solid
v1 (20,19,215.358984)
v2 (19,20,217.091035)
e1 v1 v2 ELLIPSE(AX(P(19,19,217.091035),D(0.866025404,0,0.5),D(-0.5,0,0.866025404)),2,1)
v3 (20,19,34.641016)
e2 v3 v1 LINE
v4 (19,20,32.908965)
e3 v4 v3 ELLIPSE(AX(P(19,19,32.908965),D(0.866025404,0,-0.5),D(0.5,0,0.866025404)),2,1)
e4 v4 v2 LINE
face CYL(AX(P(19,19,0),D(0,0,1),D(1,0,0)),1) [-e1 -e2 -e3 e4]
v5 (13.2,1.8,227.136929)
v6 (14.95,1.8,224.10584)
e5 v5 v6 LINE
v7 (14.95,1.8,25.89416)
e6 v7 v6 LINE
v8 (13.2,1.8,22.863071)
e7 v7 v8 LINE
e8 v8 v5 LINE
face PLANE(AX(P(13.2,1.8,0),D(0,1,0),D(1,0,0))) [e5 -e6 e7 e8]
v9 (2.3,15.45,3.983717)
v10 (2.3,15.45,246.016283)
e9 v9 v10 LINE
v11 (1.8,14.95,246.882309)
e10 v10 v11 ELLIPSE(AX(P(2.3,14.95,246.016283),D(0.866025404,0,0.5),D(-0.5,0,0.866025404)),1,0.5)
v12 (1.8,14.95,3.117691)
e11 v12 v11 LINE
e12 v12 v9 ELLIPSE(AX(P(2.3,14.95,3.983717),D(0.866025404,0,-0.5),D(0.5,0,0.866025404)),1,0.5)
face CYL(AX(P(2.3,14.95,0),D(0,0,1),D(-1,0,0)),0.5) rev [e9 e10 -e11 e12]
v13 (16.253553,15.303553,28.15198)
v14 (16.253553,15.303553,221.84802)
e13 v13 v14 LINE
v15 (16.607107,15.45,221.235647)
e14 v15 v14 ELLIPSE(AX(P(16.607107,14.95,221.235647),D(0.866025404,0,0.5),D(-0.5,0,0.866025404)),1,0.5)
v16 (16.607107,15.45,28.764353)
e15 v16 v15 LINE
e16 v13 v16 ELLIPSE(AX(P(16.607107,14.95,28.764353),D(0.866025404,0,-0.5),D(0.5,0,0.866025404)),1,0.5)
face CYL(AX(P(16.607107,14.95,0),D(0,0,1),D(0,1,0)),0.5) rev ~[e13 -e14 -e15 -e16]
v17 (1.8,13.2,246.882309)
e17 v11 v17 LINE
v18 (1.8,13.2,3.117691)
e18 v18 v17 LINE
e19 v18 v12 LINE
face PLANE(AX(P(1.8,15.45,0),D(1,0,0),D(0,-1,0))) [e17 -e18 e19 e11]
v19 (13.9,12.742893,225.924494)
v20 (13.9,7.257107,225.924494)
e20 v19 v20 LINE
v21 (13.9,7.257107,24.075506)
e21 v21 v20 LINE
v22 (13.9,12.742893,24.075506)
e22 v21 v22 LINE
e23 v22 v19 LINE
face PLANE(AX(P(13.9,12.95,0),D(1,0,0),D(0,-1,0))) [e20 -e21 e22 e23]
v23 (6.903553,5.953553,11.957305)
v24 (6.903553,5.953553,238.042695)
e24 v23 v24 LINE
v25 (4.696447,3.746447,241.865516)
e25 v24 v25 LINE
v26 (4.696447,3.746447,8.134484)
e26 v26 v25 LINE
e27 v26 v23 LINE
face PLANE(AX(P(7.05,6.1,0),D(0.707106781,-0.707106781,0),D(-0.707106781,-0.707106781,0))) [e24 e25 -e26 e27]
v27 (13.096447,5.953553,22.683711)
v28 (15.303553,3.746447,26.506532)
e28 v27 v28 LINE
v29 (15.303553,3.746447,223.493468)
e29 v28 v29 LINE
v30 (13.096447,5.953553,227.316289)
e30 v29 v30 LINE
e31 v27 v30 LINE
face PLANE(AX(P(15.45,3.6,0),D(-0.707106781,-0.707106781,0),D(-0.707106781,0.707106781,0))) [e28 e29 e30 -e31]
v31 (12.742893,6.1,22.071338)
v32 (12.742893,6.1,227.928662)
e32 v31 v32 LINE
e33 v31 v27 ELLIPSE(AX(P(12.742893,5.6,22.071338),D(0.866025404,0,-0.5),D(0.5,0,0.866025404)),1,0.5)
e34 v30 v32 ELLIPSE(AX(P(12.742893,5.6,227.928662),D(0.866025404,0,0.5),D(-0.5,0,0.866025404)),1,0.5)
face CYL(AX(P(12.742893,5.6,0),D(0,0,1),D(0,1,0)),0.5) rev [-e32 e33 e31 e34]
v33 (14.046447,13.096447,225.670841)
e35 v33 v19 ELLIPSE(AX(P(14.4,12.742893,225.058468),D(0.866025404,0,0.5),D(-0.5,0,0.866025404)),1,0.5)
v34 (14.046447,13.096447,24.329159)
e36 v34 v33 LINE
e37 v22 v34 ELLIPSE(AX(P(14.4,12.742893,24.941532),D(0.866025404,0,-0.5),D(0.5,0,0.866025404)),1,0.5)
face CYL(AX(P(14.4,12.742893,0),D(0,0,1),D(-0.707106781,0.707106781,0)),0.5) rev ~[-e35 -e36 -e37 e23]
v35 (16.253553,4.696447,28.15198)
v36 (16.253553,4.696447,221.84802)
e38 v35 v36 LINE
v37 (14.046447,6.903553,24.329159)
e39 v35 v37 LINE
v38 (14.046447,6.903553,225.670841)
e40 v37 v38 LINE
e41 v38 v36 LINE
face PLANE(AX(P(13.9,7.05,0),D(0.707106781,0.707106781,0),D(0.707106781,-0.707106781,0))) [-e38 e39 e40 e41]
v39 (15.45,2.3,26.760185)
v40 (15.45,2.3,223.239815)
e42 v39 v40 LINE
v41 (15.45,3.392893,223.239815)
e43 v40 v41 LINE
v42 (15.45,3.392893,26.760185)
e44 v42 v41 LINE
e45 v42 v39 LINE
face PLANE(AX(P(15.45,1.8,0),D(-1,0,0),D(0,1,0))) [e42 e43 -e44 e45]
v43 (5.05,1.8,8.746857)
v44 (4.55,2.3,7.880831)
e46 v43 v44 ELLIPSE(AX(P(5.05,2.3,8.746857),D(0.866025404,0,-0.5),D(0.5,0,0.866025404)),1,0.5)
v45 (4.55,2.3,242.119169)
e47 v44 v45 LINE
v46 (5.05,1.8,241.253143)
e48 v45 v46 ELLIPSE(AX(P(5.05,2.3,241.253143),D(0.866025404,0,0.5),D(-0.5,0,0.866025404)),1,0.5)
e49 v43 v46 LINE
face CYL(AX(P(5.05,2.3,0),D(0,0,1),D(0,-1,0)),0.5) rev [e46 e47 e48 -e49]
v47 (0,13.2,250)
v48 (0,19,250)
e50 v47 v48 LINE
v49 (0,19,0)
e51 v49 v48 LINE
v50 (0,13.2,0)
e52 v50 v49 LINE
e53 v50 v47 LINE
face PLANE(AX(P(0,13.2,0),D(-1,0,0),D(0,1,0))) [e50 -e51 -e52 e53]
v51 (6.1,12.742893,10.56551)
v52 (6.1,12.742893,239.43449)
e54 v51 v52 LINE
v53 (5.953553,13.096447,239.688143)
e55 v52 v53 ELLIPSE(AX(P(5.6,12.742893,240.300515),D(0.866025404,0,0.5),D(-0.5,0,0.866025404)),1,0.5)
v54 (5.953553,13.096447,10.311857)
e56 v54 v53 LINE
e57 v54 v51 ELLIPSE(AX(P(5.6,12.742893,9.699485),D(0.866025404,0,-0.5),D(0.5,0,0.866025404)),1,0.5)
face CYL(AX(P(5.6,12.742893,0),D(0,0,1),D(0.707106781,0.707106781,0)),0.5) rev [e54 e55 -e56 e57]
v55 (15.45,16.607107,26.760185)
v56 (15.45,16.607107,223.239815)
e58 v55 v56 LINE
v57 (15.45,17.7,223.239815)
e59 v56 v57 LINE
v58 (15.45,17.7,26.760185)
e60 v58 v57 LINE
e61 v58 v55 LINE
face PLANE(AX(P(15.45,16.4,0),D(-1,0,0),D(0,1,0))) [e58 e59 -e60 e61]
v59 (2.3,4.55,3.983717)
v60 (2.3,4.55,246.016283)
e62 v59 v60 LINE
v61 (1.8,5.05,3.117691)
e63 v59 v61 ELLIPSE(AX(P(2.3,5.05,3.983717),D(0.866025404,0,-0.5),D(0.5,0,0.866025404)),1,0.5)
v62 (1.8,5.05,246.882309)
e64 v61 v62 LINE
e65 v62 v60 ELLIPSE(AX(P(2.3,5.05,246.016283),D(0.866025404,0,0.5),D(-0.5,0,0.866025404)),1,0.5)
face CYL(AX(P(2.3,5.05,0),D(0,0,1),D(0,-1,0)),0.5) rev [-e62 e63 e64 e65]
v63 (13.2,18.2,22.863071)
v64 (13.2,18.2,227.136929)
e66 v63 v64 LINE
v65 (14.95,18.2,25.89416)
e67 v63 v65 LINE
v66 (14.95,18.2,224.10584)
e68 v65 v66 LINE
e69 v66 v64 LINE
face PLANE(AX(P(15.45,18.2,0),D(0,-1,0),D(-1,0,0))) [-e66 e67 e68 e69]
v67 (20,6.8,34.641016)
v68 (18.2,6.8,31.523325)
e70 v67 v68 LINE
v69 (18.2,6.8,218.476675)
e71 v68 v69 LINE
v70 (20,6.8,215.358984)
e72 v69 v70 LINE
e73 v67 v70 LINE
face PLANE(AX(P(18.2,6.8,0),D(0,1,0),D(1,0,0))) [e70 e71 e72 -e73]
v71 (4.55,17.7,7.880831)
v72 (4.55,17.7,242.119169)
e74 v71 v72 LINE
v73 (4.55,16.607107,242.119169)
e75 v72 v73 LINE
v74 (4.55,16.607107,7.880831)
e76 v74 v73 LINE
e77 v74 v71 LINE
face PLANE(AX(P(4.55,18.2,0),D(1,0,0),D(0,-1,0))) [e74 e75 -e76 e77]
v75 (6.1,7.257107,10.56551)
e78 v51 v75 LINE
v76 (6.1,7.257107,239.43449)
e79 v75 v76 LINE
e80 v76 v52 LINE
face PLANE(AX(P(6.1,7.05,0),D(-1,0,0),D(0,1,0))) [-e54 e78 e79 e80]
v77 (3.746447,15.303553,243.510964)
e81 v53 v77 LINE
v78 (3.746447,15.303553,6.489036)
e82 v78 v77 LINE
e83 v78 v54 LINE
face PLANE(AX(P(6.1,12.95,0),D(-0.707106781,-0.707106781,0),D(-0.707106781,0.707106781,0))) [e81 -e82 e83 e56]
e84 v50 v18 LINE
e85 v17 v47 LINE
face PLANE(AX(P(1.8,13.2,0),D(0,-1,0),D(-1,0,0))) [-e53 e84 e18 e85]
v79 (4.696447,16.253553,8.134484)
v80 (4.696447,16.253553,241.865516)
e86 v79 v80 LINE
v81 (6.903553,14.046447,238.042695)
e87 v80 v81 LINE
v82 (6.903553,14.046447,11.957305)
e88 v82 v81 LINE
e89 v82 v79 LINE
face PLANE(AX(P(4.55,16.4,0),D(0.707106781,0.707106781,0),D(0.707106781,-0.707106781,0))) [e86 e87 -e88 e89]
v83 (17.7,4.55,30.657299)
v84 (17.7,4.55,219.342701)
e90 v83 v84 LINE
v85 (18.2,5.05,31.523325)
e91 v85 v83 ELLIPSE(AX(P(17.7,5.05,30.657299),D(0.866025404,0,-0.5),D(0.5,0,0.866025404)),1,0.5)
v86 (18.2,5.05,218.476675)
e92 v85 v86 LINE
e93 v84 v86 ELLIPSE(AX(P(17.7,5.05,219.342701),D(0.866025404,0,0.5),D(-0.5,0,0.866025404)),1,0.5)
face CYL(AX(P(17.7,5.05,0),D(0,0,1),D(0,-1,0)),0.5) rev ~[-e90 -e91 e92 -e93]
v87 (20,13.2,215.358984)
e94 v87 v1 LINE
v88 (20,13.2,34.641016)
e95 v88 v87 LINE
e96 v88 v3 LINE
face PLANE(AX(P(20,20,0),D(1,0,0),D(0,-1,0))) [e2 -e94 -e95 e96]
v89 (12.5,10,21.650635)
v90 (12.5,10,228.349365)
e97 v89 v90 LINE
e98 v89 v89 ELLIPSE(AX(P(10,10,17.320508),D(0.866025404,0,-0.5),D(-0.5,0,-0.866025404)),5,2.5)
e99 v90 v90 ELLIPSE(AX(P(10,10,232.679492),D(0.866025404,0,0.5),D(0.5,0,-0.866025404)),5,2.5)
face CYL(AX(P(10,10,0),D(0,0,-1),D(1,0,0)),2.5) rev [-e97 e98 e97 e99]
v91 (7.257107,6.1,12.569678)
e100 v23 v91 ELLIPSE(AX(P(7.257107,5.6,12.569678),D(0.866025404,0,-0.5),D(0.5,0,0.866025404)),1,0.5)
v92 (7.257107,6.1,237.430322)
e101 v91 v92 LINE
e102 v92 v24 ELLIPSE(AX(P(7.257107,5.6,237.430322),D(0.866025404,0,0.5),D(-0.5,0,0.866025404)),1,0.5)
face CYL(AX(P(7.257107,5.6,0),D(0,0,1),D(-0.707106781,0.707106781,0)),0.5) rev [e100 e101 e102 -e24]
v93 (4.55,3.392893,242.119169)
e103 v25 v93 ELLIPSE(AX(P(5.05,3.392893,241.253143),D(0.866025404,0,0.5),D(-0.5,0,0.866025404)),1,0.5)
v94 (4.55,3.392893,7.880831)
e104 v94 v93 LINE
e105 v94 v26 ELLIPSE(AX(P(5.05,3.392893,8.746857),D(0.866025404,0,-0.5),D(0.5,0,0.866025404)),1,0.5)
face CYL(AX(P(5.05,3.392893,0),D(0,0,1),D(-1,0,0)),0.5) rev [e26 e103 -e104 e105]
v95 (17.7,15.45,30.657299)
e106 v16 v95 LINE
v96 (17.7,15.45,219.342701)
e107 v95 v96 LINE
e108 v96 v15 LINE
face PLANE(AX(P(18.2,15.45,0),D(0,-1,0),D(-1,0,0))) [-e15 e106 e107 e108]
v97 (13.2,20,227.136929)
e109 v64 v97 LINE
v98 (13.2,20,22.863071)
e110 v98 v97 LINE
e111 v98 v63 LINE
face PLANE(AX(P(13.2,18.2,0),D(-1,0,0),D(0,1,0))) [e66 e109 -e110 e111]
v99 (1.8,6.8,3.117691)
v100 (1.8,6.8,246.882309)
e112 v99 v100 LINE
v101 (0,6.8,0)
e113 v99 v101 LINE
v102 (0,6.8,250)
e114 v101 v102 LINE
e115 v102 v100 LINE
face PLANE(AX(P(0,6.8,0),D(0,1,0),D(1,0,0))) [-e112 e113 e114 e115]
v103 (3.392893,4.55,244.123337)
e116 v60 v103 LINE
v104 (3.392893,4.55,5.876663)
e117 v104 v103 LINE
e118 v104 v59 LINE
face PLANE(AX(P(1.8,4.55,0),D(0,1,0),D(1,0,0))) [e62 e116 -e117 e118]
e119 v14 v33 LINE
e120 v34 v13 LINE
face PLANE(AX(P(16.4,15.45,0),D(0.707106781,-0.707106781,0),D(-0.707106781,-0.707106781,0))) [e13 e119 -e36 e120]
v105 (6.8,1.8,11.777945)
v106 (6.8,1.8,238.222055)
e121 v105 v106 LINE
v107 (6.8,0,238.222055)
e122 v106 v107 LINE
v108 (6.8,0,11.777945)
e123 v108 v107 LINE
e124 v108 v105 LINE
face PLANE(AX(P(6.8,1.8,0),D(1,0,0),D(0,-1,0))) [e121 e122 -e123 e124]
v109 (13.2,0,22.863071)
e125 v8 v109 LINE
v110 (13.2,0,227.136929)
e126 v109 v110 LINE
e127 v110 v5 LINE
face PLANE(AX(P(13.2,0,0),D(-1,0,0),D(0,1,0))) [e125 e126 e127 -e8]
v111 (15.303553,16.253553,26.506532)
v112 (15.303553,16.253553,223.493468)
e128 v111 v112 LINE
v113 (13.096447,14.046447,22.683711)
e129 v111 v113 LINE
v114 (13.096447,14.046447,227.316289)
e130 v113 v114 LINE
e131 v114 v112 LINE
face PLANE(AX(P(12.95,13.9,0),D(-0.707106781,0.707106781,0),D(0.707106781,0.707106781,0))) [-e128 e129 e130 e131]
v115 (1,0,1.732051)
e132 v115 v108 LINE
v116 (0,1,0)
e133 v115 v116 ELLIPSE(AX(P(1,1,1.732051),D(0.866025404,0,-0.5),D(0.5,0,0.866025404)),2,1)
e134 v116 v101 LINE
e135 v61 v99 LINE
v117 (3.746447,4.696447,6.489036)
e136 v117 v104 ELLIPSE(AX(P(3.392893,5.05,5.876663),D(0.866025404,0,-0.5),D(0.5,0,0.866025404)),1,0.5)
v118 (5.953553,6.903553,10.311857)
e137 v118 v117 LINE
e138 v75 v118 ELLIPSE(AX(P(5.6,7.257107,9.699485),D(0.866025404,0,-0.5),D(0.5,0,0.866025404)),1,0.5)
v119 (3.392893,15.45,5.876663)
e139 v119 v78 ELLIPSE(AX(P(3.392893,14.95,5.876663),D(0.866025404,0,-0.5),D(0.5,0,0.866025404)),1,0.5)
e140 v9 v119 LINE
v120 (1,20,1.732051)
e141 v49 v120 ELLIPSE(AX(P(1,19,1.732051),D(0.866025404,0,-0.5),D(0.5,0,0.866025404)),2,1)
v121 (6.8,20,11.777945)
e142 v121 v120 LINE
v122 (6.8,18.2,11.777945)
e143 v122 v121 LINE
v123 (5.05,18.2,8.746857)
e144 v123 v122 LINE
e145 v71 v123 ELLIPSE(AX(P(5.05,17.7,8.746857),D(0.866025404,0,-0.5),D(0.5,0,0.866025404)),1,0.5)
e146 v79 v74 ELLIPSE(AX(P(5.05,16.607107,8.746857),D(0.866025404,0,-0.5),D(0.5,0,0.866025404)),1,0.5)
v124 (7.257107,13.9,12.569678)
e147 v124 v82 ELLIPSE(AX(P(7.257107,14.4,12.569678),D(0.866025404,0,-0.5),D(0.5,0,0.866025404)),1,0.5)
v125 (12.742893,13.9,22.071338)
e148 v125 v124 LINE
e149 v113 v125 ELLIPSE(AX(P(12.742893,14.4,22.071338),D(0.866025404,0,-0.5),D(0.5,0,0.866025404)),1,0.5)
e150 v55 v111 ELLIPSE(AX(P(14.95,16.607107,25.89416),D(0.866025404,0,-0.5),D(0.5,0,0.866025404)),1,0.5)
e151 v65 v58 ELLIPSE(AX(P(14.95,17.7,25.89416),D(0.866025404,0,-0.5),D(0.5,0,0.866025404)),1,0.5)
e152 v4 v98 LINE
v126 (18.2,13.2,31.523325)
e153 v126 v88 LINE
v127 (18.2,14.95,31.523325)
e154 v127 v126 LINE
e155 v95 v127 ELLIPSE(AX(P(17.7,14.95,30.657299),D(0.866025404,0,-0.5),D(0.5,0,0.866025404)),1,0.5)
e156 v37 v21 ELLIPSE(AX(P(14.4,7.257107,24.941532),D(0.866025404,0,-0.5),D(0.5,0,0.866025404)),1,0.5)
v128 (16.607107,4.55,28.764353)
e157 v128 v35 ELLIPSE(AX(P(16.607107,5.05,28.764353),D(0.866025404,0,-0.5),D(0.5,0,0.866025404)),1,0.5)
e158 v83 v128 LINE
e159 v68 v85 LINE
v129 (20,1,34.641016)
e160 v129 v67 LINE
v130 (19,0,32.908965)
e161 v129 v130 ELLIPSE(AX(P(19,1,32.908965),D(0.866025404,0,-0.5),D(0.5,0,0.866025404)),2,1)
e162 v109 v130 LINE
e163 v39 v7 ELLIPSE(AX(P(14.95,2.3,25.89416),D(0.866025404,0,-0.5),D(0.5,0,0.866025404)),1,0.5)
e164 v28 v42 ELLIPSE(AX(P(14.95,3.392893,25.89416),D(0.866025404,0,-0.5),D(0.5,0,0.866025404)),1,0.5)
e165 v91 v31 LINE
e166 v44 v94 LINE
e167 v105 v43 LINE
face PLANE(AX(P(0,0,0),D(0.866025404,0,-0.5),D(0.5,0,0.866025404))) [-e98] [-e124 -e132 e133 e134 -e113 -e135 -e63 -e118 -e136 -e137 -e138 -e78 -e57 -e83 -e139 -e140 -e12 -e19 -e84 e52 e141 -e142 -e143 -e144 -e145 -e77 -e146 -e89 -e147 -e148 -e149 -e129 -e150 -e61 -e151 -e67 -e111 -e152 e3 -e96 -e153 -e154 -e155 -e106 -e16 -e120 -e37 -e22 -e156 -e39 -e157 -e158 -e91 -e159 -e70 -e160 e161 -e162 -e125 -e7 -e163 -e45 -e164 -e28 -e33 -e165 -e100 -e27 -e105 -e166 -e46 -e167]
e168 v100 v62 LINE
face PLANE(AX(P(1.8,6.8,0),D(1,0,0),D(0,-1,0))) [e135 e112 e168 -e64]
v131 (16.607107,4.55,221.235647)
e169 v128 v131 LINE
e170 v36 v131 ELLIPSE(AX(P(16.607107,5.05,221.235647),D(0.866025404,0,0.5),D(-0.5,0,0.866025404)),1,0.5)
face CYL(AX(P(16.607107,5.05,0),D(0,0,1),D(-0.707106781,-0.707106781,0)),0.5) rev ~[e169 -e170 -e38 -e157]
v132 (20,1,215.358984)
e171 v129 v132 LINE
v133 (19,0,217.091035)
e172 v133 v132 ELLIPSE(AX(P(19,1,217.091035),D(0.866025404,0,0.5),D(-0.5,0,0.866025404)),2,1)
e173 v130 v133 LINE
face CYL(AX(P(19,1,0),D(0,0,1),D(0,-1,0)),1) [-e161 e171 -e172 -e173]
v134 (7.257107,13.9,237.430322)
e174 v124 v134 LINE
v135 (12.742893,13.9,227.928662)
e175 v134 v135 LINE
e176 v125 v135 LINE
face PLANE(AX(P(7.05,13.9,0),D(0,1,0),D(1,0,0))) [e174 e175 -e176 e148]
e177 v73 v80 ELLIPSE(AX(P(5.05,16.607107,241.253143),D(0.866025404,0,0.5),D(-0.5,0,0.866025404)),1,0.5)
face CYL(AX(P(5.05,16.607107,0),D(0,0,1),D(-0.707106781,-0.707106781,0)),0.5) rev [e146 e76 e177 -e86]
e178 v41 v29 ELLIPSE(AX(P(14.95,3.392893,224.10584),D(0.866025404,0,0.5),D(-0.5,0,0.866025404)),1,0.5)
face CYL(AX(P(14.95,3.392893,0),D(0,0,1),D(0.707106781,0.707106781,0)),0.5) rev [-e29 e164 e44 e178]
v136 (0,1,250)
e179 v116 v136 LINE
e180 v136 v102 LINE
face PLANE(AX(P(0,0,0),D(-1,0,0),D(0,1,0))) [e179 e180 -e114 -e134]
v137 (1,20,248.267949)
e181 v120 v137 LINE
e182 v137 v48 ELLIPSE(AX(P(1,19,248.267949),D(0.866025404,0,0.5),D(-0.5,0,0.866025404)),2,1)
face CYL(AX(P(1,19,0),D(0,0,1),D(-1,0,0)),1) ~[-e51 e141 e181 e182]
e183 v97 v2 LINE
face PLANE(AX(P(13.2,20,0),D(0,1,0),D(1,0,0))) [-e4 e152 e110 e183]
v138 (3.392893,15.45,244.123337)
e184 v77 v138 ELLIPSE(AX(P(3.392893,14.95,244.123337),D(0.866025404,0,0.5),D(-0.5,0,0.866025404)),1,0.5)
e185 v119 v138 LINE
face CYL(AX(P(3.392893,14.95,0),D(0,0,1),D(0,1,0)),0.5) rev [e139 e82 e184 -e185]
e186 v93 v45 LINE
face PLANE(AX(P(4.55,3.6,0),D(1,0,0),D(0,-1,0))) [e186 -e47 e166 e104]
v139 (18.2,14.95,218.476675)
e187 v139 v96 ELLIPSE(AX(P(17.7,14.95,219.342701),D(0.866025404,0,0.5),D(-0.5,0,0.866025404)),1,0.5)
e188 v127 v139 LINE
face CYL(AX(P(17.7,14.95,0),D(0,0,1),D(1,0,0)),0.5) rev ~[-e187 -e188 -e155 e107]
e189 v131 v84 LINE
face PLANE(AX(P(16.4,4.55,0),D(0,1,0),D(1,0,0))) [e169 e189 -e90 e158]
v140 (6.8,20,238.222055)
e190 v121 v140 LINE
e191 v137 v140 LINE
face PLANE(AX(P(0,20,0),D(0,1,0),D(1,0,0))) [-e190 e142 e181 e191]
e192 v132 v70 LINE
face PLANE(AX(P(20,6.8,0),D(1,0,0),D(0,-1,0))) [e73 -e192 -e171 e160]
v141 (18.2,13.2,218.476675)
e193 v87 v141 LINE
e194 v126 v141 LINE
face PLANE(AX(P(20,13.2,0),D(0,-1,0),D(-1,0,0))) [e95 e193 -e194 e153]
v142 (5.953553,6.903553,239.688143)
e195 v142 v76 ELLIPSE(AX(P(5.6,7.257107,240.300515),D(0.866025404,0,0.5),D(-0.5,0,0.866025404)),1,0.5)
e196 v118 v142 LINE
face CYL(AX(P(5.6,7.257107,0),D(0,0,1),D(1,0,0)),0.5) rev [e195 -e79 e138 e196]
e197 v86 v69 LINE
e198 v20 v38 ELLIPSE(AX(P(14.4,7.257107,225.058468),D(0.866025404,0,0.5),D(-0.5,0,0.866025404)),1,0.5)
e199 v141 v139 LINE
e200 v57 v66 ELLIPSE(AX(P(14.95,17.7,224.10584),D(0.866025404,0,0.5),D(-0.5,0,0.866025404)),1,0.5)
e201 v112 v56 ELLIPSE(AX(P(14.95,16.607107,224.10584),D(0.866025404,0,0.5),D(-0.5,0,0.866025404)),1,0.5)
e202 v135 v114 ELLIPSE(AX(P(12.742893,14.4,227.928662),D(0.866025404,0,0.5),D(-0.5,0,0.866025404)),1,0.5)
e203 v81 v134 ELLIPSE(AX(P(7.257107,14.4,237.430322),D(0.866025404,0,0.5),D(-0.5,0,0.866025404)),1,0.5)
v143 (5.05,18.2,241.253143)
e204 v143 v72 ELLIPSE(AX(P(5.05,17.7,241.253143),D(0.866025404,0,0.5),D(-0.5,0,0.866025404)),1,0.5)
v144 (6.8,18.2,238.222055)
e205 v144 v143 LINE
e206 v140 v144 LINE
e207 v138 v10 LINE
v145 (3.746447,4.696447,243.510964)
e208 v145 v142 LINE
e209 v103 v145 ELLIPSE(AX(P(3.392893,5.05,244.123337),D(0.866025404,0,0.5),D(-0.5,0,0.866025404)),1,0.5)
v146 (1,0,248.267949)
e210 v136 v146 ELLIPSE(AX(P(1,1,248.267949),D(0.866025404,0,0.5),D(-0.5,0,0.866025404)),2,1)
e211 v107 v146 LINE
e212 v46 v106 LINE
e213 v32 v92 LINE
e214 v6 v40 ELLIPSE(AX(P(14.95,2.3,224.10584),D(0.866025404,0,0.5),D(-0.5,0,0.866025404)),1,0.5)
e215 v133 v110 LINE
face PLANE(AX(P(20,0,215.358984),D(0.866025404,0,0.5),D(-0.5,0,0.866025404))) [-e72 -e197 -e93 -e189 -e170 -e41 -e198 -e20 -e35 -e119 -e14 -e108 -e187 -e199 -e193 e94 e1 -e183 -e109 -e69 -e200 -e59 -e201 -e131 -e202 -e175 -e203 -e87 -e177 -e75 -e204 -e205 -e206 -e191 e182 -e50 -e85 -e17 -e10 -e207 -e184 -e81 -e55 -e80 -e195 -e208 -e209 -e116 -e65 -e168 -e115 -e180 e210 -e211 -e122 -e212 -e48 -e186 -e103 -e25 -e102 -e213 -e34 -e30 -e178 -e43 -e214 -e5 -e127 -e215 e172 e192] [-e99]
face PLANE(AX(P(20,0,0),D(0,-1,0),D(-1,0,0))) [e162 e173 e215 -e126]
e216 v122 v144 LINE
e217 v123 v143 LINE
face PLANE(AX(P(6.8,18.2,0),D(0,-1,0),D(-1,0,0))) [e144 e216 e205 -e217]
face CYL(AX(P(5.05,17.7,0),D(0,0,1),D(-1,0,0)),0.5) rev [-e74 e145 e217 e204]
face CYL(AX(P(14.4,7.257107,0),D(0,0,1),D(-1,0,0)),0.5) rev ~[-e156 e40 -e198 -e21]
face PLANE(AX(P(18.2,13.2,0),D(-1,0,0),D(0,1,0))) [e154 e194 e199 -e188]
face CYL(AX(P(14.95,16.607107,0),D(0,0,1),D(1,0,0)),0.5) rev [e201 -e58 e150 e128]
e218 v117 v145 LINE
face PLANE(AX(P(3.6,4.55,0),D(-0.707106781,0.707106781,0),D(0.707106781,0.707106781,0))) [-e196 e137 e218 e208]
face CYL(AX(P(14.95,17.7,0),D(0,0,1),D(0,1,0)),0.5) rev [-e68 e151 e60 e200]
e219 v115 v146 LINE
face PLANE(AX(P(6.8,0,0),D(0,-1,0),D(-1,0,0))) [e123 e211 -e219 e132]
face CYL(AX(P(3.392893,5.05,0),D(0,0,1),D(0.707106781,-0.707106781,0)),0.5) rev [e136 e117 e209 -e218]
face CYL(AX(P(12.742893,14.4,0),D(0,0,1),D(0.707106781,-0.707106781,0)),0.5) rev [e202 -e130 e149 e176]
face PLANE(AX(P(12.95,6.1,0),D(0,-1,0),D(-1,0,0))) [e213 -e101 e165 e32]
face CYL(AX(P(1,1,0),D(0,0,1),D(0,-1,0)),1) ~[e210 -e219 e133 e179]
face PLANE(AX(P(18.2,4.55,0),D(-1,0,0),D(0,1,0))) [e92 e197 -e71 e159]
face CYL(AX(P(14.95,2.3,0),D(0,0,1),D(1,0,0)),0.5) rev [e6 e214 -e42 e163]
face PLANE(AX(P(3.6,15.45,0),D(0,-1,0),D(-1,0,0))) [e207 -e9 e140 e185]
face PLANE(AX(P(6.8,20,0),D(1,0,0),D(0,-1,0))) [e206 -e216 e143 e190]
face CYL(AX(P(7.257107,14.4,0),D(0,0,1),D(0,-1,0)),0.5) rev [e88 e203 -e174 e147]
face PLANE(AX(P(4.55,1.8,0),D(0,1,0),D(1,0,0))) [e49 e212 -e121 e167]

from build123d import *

# Parameters (mm, degrees)
SKETCH1_R           = 2.5
BOSS_EXTRUDE1_DEPTH = 250
FILLET1_R           = 1
FILLET2_R           = 0.5
FILLET3_R           = 0.5
FILLET4_R           = 0.5
FILLET5_R           = 0.5
CUT_EXTRUDE3_DEPTH  = 252.594912508
CUT_EXTRUDE5_DEPTH  = 252.594912508


with BuildPart() as part:
    # Sketch1 → Boss-Extrude1 (new body)
    with BuildSketch(Plane.XY):
        Polygon((13.2, 0), (13.2, 1.8), (15.45, 1.8), (15.45, 3.6), (12.95, 6.1), (7.05, 6.1), (4.55, 3.6), (4.55, 1.8), (6.8, 1.8), (6.8, 0), (0, 0), (0, 6.8), (1.8, 6.8), (1.8, 4.55), (3.6, 4.55), (6.1, 7.05), (6.1, 12.95), (3.6, 15.45), (1.8, 15.45), (1.8, 13.2), (0, 13.2), (0, 20), (6.8, 20), (6.8, 18.2), (4.55, 18.2), (4.55, 16.4), (7.05, 13.9), (12.95, 13.9), (15.45, 16.4), (15.45, 18.2), (13.2, 18.2), (13.2, 20), (20, 20), (20, 13.2), (18.2, 13.2), (18.2, 15.45), (16.4, 15.45), (13.9, 12.95), (13.9, 7.05), (16.4, 4.55), (18.2, 4.55), (18.2, 6.8), (20, 6.8), (20, 0), align=None)
        with Locations((10, 10)):
            Circle(SKETCH1_R, mode=Mode.SUBTRACT)
    extrude(amount=BOSS_EXTRUDE1_DEPTH)

    # Fillet1
    fillet1_edges = [part.edges().sort_by_distance(p)[0] for p in [
        (0, 0, 125),
        (0, 20, 125),
        (20, 20, 125),
        (20, 0, 125),
    ]]
    fillet(fillet1_edges, radius=FILLET1_R)

    # Fillet2
    fillet2_edges = [part.edges().sort_by_distance(p)[0] for p in [
        (4.55, 18.2, 125),
        (4.55, 16.4, 125),
        (7.05, 13.9, 125),
        (12.95, 13.9, 125),
        (15.45, 16.4, 125),
        (15.45, 18.2, 125),
    ]]
    fillet(fillet2_edges, radius=FILLET2_R)

    # Fillet3
    fillet3_edges = [part.edges().sort_by_distance(p)[0] for p in [
        (18.2, 15.45, 125),
        (16.4, 15.45, 125),
        (13.9, 12.95, 125),
        (13.9, 7.05, 125),
        (16.4, 4.55, 125),
        (18.2, 4.55, 125),
    ]]
    fillet(fillet3_edges, radius=FILLET3_R)

    # Fillet4
    fillet4_edges = [part.edges().sort_by_distance(p)[0] for p in [
        (1.8, 4.55, 125),
        (3.6, 4.55, 125),
        (6.1, 7.05, 125),
        (6.1, 12.95, 125),
        (3.6, 15.45, 125),
        (1.8, 15.45, 125),
    ]]
    fillet(fillet4_edges, radius=FILLET4_R)

    # Fillet5
    fillet5_edges = [part.edges().sort_by_distance(p)[0] for p in [
        (15.45, 1.8, 125),
        (15.45, 3.6, 125),
        (12.95, 6.1, 125),
        (7.05, 6.1, 125),
        (4.55, 3.6, 125),
        (4.55, 1.8, 125),
    ]]
    fillet(fillet5_edges, radius=FILLET5_R)

    # Sketch4 → Cut-Extrude3 (cut, through all)
    with BuildSketch(Plane.XZ):
        Polygon((20, 250), (20, 215.358983849), (0, 250), align=None)
    extrude(amount=-CUT_EXTRUDE3_DEPTH, mode=Mode.SUBTRACT)

    # Sketch6 → Cut-Extrude5 (cut, through all)
    with BuildSketch(Plane.XZ):
        Polygon((20, 0), (0, 0), (20, 34.641016151), align=None)
    extrude(amount=-CUT_EXTRUDE5_DEPTH, mode=Mode.SUBTRACT)


solid = part.part
